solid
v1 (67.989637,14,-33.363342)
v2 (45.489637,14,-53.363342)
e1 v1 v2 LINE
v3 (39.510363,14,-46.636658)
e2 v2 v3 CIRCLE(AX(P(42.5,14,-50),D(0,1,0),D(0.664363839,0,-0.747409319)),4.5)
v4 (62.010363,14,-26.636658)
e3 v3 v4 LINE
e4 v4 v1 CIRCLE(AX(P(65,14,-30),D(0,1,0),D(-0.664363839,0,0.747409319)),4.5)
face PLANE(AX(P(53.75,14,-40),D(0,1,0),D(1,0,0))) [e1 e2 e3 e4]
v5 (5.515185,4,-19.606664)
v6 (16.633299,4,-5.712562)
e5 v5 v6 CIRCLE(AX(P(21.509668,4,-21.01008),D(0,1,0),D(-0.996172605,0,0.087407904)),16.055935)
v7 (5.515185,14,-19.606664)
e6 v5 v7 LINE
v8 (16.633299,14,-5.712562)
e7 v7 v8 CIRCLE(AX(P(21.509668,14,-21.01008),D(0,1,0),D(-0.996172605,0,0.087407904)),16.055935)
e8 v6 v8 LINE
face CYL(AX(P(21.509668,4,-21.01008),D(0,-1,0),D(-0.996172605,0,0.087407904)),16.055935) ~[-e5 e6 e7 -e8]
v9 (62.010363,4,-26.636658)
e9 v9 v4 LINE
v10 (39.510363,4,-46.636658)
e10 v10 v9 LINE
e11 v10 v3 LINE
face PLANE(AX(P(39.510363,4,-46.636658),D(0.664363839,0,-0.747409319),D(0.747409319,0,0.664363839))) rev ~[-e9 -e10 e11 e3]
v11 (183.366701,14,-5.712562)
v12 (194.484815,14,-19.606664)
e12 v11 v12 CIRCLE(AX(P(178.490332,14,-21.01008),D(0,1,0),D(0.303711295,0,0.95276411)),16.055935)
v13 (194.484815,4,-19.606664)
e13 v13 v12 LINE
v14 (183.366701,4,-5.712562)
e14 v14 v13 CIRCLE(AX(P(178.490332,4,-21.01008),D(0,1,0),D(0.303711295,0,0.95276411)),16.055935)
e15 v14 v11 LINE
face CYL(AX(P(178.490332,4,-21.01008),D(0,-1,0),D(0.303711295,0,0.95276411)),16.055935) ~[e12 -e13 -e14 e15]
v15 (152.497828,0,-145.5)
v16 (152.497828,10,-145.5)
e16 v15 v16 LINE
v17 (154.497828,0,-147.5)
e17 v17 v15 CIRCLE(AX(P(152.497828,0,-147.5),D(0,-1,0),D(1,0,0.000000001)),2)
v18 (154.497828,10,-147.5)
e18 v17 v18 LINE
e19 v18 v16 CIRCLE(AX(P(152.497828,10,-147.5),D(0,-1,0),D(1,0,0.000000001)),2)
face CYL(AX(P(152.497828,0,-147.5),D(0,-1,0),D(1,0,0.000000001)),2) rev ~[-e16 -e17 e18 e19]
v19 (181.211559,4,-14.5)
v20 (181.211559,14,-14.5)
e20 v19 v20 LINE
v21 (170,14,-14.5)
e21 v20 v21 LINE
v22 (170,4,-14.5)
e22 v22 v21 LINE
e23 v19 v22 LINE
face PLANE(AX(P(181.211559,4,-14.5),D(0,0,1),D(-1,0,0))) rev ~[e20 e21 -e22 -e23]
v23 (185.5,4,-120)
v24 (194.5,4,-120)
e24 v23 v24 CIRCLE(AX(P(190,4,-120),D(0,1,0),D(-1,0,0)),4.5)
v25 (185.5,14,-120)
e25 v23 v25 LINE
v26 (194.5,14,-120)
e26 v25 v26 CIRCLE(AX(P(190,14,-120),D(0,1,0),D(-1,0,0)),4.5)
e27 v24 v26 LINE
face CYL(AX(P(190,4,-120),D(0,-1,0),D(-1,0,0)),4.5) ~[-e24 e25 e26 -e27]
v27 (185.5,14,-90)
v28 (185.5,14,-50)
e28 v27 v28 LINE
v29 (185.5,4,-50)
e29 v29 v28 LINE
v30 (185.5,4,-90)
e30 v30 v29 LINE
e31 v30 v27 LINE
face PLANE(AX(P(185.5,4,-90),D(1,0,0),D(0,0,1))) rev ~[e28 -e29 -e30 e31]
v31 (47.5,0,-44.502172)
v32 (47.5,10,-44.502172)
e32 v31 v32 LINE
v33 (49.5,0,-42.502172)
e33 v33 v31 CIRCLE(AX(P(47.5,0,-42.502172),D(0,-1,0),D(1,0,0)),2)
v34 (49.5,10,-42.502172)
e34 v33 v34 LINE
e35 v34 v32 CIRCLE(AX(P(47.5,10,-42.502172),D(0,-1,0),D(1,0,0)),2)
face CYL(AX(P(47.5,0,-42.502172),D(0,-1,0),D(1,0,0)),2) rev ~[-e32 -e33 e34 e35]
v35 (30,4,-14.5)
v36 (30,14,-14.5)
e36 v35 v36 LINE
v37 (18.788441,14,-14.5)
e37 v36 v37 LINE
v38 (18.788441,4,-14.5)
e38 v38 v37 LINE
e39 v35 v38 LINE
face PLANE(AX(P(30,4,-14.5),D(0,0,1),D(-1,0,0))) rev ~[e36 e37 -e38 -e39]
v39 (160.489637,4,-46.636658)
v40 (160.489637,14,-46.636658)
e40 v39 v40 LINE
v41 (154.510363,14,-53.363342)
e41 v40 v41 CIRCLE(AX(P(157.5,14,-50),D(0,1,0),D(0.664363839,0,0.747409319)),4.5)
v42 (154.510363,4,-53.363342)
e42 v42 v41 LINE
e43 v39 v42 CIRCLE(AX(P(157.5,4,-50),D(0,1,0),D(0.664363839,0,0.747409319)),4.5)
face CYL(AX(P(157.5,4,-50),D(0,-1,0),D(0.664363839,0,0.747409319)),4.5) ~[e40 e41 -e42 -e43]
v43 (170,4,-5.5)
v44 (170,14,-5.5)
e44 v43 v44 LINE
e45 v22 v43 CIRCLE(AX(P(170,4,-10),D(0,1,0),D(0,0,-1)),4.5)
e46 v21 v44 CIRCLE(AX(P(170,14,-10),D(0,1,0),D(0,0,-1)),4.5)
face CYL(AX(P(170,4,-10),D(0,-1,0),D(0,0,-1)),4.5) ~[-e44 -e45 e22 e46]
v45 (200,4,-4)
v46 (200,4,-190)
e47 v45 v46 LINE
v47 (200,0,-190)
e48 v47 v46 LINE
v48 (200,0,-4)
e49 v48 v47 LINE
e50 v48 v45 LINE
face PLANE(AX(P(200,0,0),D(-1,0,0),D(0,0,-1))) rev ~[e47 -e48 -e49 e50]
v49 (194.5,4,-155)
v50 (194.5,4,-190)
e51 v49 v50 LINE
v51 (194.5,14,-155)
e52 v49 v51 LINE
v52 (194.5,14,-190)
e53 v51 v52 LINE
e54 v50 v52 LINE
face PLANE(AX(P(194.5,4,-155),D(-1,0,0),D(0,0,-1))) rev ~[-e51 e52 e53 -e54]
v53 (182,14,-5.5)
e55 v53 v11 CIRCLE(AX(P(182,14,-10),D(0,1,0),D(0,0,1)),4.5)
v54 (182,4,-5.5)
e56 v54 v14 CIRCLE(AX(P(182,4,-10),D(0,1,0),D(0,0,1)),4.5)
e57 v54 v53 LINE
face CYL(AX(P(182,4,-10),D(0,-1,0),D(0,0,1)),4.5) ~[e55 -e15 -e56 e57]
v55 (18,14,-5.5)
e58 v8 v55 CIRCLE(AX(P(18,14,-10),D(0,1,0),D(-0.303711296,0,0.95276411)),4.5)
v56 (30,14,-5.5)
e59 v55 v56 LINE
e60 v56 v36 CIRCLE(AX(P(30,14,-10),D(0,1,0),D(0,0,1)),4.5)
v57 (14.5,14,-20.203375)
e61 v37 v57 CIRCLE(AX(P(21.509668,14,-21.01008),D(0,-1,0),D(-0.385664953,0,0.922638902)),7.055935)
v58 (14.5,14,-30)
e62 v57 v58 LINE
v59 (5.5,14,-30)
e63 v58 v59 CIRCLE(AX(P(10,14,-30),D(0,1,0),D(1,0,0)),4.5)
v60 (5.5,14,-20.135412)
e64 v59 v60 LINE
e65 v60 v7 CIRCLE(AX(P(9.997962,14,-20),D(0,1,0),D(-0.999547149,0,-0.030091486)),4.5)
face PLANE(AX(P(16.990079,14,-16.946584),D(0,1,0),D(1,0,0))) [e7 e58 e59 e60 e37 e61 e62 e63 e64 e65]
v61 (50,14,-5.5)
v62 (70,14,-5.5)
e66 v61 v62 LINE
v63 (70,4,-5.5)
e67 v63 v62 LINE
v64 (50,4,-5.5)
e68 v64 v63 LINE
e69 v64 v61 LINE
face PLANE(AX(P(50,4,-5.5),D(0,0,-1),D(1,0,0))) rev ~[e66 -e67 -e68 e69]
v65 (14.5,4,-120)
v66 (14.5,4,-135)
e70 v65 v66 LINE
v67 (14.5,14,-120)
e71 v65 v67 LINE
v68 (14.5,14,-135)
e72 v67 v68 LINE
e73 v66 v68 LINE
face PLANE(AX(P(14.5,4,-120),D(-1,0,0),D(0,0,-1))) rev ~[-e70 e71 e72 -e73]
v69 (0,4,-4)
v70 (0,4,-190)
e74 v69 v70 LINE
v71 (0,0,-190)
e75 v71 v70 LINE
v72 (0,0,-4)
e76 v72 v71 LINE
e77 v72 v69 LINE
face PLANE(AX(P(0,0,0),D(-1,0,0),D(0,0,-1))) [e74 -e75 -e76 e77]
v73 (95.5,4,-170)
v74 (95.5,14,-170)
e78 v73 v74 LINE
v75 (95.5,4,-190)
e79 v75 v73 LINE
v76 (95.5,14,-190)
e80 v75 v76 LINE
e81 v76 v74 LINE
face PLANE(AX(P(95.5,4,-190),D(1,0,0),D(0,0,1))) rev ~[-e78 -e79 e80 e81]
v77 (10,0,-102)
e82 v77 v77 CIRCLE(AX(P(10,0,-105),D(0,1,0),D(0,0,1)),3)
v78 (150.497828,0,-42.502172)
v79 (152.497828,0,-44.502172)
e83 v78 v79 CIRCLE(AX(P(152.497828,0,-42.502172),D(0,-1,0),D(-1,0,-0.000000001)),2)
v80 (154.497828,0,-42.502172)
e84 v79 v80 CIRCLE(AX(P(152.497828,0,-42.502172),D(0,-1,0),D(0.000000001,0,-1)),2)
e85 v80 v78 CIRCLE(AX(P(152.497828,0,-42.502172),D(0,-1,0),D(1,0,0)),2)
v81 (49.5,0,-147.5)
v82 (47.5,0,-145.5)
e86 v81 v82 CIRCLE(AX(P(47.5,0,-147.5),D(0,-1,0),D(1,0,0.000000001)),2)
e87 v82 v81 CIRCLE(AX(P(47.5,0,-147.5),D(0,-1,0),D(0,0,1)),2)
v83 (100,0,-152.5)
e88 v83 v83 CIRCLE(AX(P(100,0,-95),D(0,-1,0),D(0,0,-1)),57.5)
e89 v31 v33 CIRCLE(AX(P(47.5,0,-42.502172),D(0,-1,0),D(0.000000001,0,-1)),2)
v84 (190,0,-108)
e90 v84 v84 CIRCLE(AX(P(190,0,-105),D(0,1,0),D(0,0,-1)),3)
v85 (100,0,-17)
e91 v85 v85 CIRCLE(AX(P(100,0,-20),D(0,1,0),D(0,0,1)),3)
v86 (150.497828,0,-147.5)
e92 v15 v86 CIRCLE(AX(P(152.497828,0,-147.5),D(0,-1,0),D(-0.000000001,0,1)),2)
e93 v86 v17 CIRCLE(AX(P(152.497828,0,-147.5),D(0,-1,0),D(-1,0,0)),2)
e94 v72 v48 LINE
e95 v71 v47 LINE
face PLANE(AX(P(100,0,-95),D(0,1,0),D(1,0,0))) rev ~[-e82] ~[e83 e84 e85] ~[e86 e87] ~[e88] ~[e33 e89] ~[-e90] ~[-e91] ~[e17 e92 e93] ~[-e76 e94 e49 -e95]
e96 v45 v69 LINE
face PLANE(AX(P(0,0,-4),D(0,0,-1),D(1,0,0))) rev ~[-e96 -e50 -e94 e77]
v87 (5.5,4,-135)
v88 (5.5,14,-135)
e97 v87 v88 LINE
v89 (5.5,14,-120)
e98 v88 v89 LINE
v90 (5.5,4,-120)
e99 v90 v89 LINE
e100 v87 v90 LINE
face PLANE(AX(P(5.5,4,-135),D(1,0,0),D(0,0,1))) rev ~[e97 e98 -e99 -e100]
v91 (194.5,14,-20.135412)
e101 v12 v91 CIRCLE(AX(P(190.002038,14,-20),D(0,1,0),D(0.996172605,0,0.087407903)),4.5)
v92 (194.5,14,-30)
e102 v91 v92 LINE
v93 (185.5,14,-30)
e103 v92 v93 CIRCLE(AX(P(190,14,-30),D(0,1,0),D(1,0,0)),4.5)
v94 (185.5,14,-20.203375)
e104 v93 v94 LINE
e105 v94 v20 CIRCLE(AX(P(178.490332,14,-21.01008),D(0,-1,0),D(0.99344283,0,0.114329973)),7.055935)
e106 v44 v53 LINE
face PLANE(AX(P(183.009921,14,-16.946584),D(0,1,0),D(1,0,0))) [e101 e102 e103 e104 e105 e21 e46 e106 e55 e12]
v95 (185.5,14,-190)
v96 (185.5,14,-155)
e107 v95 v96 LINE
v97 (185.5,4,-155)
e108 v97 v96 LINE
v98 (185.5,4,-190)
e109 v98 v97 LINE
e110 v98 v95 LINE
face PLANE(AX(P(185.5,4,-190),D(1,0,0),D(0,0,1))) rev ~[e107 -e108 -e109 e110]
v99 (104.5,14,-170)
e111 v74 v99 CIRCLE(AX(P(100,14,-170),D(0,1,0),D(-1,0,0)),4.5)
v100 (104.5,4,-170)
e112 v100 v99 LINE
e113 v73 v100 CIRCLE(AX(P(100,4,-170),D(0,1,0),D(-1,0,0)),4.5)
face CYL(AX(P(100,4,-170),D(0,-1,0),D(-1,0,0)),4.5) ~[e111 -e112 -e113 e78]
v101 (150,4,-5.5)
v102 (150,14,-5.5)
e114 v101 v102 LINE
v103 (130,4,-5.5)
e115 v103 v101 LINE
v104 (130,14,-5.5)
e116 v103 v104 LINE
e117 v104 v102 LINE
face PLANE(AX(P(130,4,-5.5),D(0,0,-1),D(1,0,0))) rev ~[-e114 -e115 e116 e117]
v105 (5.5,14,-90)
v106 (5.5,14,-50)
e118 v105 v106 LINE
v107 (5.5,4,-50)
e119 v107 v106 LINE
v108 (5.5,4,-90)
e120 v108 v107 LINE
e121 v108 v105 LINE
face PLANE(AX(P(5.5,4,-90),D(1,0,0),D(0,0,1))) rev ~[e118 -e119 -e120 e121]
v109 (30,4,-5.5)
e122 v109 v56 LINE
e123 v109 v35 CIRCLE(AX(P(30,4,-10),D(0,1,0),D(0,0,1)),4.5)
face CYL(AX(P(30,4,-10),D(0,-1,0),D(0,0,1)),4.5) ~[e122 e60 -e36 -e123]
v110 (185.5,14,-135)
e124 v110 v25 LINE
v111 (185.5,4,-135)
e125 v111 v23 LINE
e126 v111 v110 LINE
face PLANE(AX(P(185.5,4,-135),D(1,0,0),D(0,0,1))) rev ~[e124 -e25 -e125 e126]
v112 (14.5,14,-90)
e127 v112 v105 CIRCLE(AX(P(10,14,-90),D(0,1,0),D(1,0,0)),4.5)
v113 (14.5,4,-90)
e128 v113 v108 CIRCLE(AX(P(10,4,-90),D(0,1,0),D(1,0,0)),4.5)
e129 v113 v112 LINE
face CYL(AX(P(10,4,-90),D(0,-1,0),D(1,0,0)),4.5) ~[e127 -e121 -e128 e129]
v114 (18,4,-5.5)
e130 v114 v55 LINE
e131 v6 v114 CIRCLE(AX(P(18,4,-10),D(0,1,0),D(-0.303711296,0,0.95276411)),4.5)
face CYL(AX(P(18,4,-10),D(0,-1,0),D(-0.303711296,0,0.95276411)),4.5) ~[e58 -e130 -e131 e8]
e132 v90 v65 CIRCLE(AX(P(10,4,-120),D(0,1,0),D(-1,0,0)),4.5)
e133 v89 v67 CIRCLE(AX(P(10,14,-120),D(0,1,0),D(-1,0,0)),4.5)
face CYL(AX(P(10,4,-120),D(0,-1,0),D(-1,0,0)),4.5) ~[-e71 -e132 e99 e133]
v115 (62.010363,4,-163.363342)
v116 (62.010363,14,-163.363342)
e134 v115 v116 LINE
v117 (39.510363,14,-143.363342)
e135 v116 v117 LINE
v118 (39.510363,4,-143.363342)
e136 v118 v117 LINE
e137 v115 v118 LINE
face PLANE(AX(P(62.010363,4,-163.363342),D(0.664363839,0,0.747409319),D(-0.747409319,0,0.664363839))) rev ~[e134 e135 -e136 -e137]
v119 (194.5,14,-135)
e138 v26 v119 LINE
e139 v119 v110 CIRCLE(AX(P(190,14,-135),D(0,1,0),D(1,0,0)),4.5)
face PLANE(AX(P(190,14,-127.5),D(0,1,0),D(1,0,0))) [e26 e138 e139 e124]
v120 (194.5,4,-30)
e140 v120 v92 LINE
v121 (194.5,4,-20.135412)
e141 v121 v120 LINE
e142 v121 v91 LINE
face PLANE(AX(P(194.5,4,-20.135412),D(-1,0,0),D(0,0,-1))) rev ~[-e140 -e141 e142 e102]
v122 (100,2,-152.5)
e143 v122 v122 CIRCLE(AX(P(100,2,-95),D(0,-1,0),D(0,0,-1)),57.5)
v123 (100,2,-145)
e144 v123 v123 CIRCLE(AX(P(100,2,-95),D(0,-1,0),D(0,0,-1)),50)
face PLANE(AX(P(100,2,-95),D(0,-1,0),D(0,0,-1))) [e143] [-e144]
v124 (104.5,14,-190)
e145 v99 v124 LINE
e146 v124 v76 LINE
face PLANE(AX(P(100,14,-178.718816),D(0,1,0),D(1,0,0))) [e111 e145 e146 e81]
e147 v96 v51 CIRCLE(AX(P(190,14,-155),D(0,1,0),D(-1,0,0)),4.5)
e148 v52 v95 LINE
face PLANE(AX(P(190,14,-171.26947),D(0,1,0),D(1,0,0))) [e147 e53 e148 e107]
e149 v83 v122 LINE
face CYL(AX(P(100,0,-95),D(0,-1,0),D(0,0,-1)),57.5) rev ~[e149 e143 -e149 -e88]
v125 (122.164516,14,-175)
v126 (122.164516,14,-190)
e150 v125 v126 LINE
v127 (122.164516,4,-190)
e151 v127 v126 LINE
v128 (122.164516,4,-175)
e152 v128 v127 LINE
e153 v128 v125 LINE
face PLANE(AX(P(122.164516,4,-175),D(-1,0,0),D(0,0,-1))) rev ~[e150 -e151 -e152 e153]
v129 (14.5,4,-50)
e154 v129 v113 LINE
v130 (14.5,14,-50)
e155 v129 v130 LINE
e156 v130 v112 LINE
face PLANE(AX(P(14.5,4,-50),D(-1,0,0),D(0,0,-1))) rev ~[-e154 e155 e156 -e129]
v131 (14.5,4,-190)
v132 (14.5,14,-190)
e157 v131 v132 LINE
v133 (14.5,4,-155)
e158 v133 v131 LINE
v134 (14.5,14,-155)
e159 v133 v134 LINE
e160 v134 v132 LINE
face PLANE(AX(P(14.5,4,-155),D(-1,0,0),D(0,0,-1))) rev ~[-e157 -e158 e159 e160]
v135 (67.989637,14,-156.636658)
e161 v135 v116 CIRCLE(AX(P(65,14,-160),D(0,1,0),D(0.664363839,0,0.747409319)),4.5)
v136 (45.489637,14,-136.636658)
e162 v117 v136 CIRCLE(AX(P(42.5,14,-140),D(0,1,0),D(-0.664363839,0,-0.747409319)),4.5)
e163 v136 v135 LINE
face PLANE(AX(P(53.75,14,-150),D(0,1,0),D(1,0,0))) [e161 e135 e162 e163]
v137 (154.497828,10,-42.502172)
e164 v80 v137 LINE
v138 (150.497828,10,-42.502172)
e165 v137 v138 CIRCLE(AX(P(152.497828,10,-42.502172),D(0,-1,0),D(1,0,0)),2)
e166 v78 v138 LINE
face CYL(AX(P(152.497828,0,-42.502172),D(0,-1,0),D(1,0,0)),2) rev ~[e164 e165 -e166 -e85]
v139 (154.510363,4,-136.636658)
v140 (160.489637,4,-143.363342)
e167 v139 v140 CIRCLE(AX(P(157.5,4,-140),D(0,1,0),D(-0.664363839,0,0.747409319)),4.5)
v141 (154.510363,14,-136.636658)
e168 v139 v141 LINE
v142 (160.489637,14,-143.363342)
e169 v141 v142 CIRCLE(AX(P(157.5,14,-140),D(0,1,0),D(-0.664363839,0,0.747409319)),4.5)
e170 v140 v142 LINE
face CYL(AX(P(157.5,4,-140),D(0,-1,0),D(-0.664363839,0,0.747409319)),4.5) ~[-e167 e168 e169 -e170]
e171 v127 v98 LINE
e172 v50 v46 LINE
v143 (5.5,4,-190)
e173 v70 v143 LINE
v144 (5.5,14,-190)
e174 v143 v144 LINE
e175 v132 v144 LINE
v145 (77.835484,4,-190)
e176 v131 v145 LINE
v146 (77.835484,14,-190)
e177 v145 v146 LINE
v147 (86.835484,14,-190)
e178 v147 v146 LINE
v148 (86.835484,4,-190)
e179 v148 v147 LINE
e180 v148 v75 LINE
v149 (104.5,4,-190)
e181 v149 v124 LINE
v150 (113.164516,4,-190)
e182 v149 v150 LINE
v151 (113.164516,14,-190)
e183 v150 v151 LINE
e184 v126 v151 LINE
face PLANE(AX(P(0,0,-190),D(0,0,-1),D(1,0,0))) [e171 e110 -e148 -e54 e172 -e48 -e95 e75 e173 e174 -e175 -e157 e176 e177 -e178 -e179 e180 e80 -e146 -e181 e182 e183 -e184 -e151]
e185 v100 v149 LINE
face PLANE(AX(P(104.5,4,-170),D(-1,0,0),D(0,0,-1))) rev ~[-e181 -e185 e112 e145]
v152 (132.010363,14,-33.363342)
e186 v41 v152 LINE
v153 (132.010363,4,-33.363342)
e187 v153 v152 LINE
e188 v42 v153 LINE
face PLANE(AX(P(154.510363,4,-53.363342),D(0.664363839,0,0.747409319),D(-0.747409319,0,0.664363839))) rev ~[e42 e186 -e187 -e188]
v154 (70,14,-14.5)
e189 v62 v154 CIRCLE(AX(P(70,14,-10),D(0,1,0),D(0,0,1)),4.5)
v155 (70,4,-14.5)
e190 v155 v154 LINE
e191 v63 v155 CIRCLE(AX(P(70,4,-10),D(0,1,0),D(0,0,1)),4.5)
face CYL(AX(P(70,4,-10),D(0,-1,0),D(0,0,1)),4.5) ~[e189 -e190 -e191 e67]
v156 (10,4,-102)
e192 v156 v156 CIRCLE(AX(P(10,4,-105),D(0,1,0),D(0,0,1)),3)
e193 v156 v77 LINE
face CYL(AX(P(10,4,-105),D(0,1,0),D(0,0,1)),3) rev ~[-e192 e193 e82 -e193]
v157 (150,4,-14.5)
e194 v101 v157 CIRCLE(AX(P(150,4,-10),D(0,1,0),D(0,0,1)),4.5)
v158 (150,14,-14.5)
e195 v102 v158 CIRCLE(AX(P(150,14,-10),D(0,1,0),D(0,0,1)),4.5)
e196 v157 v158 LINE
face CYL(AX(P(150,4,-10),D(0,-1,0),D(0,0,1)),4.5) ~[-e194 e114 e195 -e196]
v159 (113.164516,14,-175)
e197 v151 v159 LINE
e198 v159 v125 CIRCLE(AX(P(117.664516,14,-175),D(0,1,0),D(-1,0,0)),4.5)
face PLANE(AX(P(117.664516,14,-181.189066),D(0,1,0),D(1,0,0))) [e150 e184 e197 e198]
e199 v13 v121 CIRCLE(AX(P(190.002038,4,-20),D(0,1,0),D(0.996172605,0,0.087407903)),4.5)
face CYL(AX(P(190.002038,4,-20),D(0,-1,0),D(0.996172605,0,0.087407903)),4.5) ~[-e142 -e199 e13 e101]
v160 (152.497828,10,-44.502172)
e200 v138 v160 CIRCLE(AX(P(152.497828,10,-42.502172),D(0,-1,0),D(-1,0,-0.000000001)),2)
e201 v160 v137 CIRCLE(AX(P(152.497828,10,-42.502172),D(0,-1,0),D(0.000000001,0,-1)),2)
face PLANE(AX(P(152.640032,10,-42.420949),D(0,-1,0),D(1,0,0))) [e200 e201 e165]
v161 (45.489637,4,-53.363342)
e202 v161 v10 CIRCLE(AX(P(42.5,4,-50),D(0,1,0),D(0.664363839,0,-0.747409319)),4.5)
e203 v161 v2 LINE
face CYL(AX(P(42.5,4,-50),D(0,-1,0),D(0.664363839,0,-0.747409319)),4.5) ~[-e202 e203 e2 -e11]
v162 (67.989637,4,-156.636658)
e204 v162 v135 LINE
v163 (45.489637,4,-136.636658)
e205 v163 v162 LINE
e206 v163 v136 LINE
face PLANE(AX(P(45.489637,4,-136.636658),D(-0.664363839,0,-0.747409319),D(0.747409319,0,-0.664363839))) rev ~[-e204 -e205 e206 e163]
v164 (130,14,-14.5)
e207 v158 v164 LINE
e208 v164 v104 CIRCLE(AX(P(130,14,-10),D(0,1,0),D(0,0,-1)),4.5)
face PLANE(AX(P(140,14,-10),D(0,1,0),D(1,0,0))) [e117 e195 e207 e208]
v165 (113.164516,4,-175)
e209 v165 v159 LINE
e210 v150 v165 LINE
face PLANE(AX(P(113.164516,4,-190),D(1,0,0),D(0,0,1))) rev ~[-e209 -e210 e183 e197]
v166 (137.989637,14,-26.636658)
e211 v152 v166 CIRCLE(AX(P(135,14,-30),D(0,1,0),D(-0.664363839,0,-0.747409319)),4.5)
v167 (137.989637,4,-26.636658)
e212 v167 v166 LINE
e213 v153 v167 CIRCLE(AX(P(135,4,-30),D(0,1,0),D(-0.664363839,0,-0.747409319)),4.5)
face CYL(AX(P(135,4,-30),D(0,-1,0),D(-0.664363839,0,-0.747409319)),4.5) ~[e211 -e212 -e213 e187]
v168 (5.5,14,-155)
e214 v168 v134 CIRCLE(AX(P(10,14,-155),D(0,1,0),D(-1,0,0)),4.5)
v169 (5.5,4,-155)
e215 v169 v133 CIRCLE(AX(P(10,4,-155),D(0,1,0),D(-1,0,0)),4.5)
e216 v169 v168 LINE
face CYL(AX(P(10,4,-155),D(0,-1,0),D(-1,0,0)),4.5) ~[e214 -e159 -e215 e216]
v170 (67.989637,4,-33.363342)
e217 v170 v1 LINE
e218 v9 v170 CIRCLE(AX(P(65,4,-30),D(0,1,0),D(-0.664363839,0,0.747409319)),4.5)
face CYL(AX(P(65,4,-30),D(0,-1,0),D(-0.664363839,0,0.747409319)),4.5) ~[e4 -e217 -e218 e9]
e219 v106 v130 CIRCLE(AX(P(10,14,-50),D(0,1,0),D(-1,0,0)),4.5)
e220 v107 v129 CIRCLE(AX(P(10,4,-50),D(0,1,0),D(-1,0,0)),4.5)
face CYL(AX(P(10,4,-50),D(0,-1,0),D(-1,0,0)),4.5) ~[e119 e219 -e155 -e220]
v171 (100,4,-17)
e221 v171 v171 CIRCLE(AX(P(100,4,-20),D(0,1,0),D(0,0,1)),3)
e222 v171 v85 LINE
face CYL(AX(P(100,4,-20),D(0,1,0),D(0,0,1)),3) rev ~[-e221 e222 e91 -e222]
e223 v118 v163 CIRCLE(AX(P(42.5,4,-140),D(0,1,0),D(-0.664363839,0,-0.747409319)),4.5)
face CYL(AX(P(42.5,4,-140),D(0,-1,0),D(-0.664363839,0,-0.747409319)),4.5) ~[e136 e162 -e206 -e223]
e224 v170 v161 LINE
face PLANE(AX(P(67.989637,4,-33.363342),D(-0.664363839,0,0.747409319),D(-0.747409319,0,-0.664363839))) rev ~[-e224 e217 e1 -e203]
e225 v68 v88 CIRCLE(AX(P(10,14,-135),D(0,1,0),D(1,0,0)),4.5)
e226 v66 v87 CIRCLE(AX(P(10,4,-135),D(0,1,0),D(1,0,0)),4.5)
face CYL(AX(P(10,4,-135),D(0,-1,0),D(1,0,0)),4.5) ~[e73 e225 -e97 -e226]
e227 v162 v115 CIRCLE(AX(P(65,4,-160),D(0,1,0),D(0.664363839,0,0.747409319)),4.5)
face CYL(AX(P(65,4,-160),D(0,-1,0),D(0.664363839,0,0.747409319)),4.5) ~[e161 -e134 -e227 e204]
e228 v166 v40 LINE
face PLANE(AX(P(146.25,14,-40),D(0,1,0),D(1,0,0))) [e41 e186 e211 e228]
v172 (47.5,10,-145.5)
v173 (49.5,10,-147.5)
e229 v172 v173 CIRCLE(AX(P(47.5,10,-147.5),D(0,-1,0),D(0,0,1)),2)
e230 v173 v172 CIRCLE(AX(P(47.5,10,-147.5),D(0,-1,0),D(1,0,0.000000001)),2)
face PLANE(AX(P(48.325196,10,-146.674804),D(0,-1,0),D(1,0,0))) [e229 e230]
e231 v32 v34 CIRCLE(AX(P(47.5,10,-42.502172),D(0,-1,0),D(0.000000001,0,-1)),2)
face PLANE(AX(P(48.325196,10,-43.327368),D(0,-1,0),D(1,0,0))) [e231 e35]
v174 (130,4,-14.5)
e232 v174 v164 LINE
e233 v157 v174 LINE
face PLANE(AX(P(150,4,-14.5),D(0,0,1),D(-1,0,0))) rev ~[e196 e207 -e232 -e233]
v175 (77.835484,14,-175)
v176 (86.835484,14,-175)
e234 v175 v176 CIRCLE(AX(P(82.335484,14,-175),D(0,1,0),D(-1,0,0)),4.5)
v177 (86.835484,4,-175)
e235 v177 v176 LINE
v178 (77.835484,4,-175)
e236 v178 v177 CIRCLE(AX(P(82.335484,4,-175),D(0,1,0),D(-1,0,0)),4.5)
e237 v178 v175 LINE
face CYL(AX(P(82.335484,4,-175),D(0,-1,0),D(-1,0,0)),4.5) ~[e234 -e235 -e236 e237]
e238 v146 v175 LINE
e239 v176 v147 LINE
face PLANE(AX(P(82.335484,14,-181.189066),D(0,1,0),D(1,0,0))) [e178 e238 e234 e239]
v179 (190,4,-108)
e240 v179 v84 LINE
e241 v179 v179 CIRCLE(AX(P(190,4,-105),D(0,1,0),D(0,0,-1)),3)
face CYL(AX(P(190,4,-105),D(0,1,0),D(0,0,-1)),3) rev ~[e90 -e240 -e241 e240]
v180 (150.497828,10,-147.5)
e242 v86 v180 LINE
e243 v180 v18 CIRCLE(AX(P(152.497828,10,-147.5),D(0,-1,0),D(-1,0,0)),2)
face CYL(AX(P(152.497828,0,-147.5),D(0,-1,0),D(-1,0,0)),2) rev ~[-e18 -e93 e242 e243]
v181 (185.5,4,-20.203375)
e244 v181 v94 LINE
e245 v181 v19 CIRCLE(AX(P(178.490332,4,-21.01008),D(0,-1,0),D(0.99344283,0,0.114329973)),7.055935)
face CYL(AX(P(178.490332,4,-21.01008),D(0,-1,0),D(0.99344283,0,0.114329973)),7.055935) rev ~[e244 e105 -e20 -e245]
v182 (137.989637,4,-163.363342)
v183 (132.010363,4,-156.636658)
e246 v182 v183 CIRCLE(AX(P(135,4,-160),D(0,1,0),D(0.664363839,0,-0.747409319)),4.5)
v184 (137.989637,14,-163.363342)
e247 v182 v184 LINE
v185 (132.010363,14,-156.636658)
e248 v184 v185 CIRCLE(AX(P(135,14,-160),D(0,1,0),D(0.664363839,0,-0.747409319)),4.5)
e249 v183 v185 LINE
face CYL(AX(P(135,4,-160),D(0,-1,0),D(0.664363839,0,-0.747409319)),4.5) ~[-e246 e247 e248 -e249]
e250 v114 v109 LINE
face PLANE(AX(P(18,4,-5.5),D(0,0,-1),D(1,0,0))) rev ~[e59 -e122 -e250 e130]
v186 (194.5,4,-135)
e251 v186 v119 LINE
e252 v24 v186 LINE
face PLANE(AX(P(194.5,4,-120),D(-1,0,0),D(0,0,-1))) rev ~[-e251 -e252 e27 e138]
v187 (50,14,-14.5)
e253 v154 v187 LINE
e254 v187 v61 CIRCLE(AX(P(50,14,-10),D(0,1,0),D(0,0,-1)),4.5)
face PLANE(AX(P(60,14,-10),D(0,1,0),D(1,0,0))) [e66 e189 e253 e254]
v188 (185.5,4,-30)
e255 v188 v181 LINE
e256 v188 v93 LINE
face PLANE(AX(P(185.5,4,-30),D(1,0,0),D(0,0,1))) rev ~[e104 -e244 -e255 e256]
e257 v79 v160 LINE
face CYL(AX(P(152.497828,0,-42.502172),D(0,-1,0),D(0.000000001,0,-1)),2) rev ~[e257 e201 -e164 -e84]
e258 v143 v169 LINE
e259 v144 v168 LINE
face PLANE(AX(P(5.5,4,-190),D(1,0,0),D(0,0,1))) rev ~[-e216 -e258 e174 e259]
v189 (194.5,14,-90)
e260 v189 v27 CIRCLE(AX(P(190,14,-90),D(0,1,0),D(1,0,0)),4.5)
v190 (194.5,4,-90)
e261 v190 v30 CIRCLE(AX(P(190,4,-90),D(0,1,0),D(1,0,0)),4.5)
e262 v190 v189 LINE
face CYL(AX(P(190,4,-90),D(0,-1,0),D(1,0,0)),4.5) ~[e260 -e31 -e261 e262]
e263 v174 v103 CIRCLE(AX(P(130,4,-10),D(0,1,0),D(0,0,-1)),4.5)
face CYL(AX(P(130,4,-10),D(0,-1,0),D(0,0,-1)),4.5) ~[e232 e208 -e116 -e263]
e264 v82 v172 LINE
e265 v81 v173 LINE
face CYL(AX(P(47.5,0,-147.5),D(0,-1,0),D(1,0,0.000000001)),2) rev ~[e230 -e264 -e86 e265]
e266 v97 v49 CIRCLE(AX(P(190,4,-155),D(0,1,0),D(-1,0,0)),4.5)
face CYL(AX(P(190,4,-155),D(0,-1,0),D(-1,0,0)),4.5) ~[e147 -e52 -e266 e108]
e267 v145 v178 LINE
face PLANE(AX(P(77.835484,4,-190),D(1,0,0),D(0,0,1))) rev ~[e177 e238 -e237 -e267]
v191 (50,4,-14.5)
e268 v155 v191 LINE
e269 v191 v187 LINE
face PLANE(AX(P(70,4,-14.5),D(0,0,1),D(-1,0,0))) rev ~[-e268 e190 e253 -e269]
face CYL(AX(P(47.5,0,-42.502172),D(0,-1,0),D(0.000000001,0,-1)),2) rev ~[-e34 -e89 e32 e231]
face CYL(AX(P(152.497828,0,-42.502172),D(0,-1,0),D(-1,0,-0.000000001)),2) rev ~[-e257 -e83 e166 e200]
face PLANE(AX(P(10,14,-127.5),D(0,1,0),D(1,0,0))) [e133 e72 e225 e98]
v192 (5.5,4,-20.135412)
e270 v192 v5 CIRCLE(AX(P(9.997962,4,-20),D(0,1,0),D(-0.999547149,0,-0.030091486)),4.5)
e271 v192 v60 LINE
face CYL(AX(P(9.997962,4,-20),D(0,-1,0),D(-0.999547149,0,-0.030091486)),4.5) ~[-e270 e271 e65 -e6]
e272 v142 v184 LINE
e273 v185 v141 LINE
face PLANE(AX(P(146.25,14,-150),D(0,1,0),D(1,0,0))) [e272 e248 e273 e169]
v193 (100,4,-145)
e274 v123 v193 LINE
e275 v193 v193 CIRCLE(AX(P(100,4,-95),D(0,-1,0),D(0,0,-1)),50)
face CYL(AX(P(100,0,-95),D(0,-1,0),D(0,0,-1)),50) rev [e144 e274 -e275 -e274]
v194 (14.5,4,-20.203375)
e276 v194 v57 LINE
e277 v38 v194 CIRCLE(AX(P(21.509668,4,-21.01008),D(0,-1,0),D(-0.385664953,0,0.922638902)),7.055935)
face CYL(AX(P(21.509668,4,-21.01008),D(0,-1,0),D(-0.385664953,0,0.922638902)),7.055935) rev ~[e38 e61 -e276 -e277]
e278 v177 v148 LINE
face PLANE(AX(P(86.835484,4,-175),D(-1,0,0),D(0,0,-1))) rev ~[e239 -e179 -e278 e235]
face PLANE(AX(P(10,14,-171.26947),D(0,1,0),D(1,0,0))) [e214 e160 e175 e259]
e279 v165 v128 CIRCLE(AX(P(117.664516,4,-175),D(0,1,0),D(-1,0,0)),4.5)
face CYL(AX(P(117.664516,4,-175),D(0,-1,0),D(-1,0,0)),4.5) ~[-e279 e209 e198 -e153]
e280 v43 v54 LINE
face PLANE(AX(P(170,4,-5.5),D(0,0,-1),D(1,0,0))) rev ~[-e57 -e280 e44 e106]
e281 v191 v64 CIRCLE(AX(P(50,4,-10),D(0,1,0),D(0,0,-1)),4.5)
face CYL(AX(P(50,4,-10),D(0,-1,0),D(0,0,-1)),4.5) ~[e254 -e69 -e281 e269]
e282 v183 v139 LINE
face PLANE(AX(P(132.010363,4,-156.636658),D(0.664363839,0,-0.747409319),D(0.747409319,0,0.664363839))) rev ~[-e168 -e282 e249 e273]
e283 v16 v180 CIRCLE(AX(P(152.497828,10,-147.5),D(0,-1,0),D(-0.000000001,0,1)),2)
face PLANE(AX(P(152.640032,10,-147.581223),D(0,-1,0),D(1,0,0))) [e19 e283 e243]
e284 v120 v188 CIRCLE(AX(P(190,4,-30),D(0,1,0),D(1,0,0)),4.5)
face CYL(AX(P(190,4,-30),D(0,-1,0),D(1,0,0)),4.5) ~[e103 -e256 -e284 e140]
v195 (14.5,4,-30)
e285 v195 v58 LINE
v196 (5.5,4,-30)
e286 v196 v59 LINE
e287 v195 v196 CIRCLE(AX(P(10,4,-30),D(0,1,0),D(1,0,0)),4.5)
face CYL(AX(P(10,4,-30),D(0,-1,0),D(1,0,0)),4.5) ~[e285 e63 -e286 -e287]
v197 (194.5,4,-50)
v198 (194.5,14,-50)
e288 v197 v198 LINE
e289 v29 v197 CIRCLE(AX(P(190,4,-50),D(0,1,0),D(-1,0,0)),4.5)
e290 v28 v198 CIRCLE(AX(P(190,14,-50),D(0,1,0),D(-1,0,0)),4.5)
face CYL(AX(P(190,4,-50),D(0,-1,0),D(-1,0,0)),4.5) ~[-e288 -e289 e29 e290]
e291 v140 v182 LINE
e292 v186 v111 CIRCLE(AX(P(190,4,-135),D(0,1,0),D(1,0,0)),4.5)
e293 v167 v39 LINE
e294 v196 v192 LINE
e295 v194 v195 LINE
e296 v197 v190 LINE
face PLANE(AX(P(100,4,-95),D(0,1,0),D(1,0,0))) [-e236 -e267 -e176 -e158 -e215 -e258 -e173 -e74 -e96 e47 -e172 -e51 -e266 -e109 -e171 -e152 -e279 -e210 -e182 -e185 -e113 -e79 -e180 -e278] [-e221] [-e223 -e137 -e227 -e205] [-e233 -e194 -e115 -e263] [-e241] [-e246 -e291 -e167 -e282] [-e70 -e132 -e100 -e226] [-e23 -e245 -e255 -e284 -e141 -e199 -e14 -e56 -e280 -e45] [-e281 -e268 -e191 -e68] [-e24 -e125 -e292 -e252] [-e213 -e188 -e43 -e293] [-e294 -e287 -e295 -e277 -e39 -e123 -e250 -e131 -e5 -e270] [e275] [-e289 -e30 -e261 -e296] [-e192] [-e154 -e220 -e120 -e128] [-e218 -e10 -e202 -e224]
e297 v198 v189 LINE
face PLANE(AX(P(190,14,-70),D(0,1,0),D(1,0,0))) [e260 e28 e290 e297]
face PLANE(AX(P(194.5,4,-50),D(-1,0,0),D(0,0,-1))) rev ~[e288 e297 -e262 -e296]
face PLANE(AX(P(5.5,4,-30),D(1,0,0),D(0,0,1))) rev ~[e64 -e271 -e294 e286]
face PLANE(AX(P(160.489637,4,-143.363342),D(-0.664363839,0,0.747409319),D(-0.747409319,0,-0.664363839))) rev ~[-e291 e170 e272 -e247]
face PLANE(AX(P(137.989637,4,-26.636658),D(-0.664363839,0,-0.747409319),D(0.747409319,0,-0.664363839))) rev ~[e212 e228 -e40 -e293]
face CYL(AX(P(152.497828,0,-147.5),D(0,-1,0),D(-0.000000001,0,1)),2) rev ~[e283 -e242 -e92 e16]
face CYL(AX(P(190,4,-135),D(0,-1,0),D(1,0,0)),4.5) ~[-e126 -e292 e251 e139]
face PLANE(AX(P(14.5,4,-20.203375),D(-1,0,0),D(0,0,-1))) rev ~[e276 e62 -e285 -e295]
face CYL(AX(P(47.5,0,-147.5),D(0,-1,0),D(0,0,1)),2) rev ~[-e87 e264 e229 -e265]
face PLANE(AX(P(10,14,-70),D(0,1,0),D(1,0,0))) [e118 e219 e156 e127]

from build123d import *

# Parameters (mm, degrees)
SKETCH1_W           = 200
SKETCH1_H           = 190
BOSS_EXTRUDE1_DEPTH = 4
BOSS_EXTRUDE2_DEPTH = 10
SKETCH4_R           = 50
CUT_EXTRUDE1_DEPTH  = 10
SKETCH9_W           = 200
SKETCH9_H           = 4
CUT_EXTRUDE6_DEPTH  = 12
SKETCH12_R          = 57.5
CUT_EXTRUDE7_DEPTH  = 2
SKETCH10_R          = 3
CUT_EXTRUDE8_DEPTH  = 10
CUT_EXTRUDE9_DEPTH  = 10


with BuildPart() as part:
    # Sketch1 → Boss-Extrude1 (new body)
    with BuildSketch(Plane(origin=(0, 0, 0), x_dir=(1, 0, 0), z_dir=(0, 1, 0))):
        with Locations((100, 95)):
            Rectangle(SKETCH1_W, SKETCH1_H)
    extrude(amount=BOSS_EXTRUDE1_DEPTH)

    # Sketch3 → Boss-Extrude2 (add)
    with BuildSketch(Plane(origin=(0, 4, 0), x_dir=(1, 0, 0), z_dir=(0, 1, 0))):
        with BuildLine():
            Line((30, 14.5), (18.788441151, 14.5))
            ThreePointArc((18.788441151, 14.5), (15.870102337, 16.769618143), (14.5, 20.203375202))
            Line((14.5, 20.203375202), (14.5, 30))
            ThreePointArc((14.5, 30), (10, 34.5), (5.5, 30))
            Line((5.5, 30), (5.5, 20.135411686))
            ThreePointArc((5.5, 20.135411686), (5.499816866, 19.870814738), (5.515185448, 19.60666443))
            ThreePointArc((5.515185448, 19.60666443), (8.973335462, 10.97845936), (16.633299171, 5.712561506))
            ThreePointArc((16.633299171, 5.712561506), (17.308434105, 5.553457904), (18, 5.5))
            Line((18, 5.5), (30, 5.5))
            ThreePointArc((30, 5.5), (34.5, 10), (30, 14.5))
        make_face()
        with BuildLine():
            Line((14.5, 190), (5.5, 190))
            Line((5.5, 190), (5.5, 155))
            ThreePointArc((5.5, 155), (10, 150.5), (14.5, 155))
            Line((14.5, 155), (14.5, 190))
        make_face()
        with BuildLine():
            Line((194.5, 155), (194.5, 190))
            Line((194.5, 190), (185.5, 190))
            Line((185.5, 190), (185.5, 155))
            ThreePointArc((185.5, 155), (190, 150.5), (194.5, 155))
        make_face()
        with BuildLine():
            Line((86.835483589, 190), (77.835483589, 190))
            Line((77.835483589, 190), (77.835483589, 175))
            ThreePointArc((77.835483589, 175), (82.335483589, 170.5), (86.835483589, 175))
            Line((86.835483589, 175), (86.835483589, 190))
        make_face()
        with BuildLine():
            Line((122.164516411, 175), (122.164516411, 190))
            Line((122.164516411, 190), (113.164516411, 190))
            Line((113.164516411, 190), (113.164516411, 175))
            ThreePointArc((113.164516411, 175), (117.664516411, 170.5), (122.164516411, 175))
        make_face()
        with BuildLine():
            Line((104.5, 190), (95.5, 190))
            Line((95.5, 190), (95.5, 170))
            ThreePointArc((95.5, 170), (100, 165.5), (104.5, 170))
            Line((104.5, 170), (104.5, 190))
        make_face()
        with BuildLine():
            Line((5.5, 90), (5.5, 50))
            ThreePointArc((5.5, 50), (10, 45.5), (14.5, 50))
            Line((14.5, 50), (14.5, 90))
            ThreePointArc((14.5, 90), (10, 94.5), (5.5, 90))
        make_face()
        with BuildLine():
            Line((70, 14.5), (50, 14.5))
            ThreePointArc((50, 14.5), (45.5, 10), (50, 5.5))
            Line((50, 5.5), (70, 5.5))
            ThreePointArc((70, 5.5), (74.5, 10), (70, 14.5))
        make_face()
        with BuildLine():
            ThreePointArc((185.5, 50), (190, 45.5), (194.5, 50))
            Line((194.5, 50), (194.5, 90))
            ThreePointArc((194.5, 90), (190, 94.5), (185.5, 90))
            Line((185.5, 90), (185.5, 50))
        make_face()
        with BuildLine():
            ThreePointArc((185.5, 20.203375202), (184.129897663, 16.769618143), (181.211558849, 14.5))
            Line((181.211558849, 14.5), (170, 14.5))
            ThreePointArc((170, 14.5), (165.5, 10), (170, 5.5))
            Line((170, 5.5), (182, 5.5))
            ThreePointArc((182, 5.5), (182.691565895, 5.553457904), (183.366700829, 5.712561506))
            ThreePointArc((183.366700829, 5.712561506), (191.026664538, 10.97845936), (194.484814552, 19.60666443))
            ThreePointArc((194.484814552, 19.60666443), (194.500183134, 19.870814738), (194.5, 20.135411686))
            Line((194.5, 20.135411686), (194.5, 30))
            ThreePointArc((194.5, 30), (190, 34.5), (185.5, 30))
            Line((185.5, 30), (185.5, 20.203375202))
        make_face()
        with BuildLine():
            ThreePointArc((150, 5.5), (154.5, 10), (150, 14.5))
            Line((150, 14.5), (130, 14.5))
            ThreePointArc((130, 14.5), (125.5, 10), (130, 5.5))
            Line((130, 5.5), (150, 5.5))
        make_face()
        with BuildLine():
            ThreePointArc((160.489637275, 46.636658066), (160.863341934, 52.989637275), (154.510362725, 53.363341934))
            Line((154.510362725, 53.363341934), (132.010362725, 33.363341934))
            ThreePointArc((132.010362725, 33.363341934), (131.636658066, 27.010362725), (137.989637275, 26.636658066))
            Line((137.989637275, 26.636658066), (160.489637275, 46.636658066))
        make_face()
        with BuildLine():
            Line((132.010362725, 156.636658066), (154.510362725, 136.636658066))
            ThreePointArc((154.510362725, 136.636658066), (160.863341934, 137.010362725), (160.489637275, 143.363341934))
            Line((160.489637275, 143.363341934), (137.989637275, 163.363341934))
            ThreePointArc((137.989637275, 163.363341934), (131.636658066, 162.989637275), (132.010362725, 156.636658066))
        make_face()
        with BuildLine():
            Line((5.5, 135), (5.5, 120))
            ThreePointArc((5.5, 120), (10, 115.5), (14.5, 120))
            Line((14.5, 120), (14.5, 135))
            ThreePointArc((14.5, 135), (10, 139.5), (5.5, 135))
        make_face()
        with BuildLine():
            ThreePointArc((39.510362725, 143.363341934), (39.136658066, 137.010362725), (45.489637275, 136.636658066))
            Line((45.489637275, 136.636658066), (67.989637275, 156.636658066))
            ThreePointArc((67.989637275, 156.636658066), (68.363341934, 162.989637275), (62.010362725, 163.363341934))
            Line((62.010362725, 163.363341934), (39.510362725, 143.363341934))
        make_face()
        with BuildLine():
            Line((67.989637275, 33.363341934), (45.489637275, 53.363341934))
            ThreePointArc((45.489637275, 53.363341934), (39.136658066, 52.989637275), (39.510362725, 46.636658066))
            Line((39.510362725, 46.636658066), (62.010362725, 26.636658066))
            ThreePointArc((62.010362725, 26.636658066), (68.363341934, 27.010362725), (67.989637275, 33.363341934))
        make_face()
        with BuildLine():
            ThreePointArc((185.5, 120), (190, 115.5), (194.5, 120))
            Line((194.5, 120), (194.5, 135))
            ThreePointArc((194.5, 135), (190, 139.5), (185.5, 135))
            Line((185.5, 135), (185.5, 120))
        make_face()
    extrude(amount=BOSS_EXTRUDE2_DEPTH)

    # Sketch4 → Cut-Extrude1 (cut)
    with BuildSketch(Plane(origin=(0, 0, 0), x_dir=(1, 0, 0), z_dir=(0, 1, 0))):
        with Locations(Location((100, 95, 0), (0, 0, 90))):
            Circle(SKETCH4_R)
    extrude(amount=CUT_EXTRUDE1_DEPTH, mode=Mode.SUBTRACT)

    # Sketch9 → Cut-Extrude6 (cut)
    with BuildSketch(Plane.XZ):
        with Locations((100, -2)):
            Rectangle(SKETCH9_W, SKETCH9_H)
    extrude(amount=-CUT_EXTRUDE6_DEPTH, mode=Mode.SUBTRACT)

    # Sketch12 → Cut-Extrude7 (cut)
    with BuildSketch(Plane(origin=(0, 0, 0), x_dir=(-1, 0, 0), z_dir=(0, -1, 0))):
        with Locations(Location((-100, 95, 0), (0, 0, 90))):
            Circle(SKETCH12_R)
    extrude(amount=-CUT_EXTRUDE7_DEPTH, mode=Mode.SUBTRACT)

    # Sketch10 → Cut-Extrude8 (cut)
    with BuildSketch(Plane(origin=(0, 4, 0), x_dir=(1, 0, 0), z_dir=(0, 1, 0))):
        with Locations(Location((10, 105, 0), (0, 0, 270))):
            Circle(SKETCH10_R)
        with Locations(Location((100, 20, 0), (0, 0, 270))):
            Circle(SKETCH10_R)
        with Locations(Location((190, 105, 0), (0, 0, 90))):
            Circle(SKETCH10_R)
    extrude(amount=-CUT_EXTRUDE8_DEPTH, mode=Mode.SUBTRACT)

    # Sketch13 → Cut-Extrude9 (cut)
    with BuildSketch(Plane.XZ):
        with BuildLine():
            ThreePointArc((49.5, -147.5), (48.914213562, -146.085786438), (47.5, -145.5))
            Line((47.5, -145.5), (47.5, -147.5))
            Line((47.5, -147.5), (49.5, -147.5))
        make_face()
        with BuildLine():
            Line((47.5, -147.5), (47.5, -145.5))
            ThreePointArc((47.5, -145.5), (46.085786438, -148.914213562), (49.5, -147.5))
            Line((49.5, -147.5), (47.5, -147.5))
        make_face()
        with BuildLine():
            ThreePointArc((47.5, -44.5021719), (48.914213562, -43.916385462), (49.5, -42.5021719))
            Line((49.5, -42.5021719), (47.5, -42.5021719))
            Line((47.5, -42.5021719), (47.5, -44.5021719))
        make_face()
        with BuildLine():
            Line((47.5, -42.5021719), (49.5, -42.5021719))
            ThreePointArc((49.5, -42.5021719), (46.085786438, -41.087958338), (47.5, -44.5021719))
            Line((47.5, -44.5021719), (47.5, -42.5021719))
        make_face()
        with BuildLine():
            ThreePointArc((154.4978281, -42.5021719), (152.4978281, -40.5021719), (150.4978281, -42.5021719))
            Line((150.4978281, -42.5021719), (152.4978281, -42.5021719))
            Line((152.4978281, -42.5021719), (152.4978281, -44.5021719))
            ThreePointArc((152.4978281, -44.5021719), (153.912041662, -43.916385462), (154.4978281, -42.5021719))
        make_face()
        with BuildLine():
            Line((152.4978281, -42.5021719), (150.4978281, -42.5021719))
            ThreePointArc((150.4978281, -42.5021719), (151.083614538, -43.916385462), (152.4978281, -44.5021719))
            Line((152.4978281, -44.5021719), (152.4978281, -42.5021719))
        make_face()
        with BuildLine():
            ThreePointArc((154.4978281, -147.5), (153.912041662, -146.085786438), (152.4978281, -145.5))
            Line((152.4978281, -145.5), (152.4978281, -147.5))
            Line((152.4978281, -147.5), (150.4978281, -147.5))
            ThreePointArc((150.4978281, -147.5), (152.4978281, -149.5), (154.4978281, -147.5))
        make_face()
        with BuildLine():
            Line((152.4978281, -147.5), (152.4978281, -145.5))
            ThreePointArc((152.4978281, -145.5), (151.083614538, -146.085786438), (150.4978281, -147.5))
            Line((150.4978281, -147.5), (152.4978281, -147.5))
        make_face()
    extrude(amount=-CUT_EXTRUDE9_DEPTH, mode=Mode.SUBTRACT)


solid = part.part
